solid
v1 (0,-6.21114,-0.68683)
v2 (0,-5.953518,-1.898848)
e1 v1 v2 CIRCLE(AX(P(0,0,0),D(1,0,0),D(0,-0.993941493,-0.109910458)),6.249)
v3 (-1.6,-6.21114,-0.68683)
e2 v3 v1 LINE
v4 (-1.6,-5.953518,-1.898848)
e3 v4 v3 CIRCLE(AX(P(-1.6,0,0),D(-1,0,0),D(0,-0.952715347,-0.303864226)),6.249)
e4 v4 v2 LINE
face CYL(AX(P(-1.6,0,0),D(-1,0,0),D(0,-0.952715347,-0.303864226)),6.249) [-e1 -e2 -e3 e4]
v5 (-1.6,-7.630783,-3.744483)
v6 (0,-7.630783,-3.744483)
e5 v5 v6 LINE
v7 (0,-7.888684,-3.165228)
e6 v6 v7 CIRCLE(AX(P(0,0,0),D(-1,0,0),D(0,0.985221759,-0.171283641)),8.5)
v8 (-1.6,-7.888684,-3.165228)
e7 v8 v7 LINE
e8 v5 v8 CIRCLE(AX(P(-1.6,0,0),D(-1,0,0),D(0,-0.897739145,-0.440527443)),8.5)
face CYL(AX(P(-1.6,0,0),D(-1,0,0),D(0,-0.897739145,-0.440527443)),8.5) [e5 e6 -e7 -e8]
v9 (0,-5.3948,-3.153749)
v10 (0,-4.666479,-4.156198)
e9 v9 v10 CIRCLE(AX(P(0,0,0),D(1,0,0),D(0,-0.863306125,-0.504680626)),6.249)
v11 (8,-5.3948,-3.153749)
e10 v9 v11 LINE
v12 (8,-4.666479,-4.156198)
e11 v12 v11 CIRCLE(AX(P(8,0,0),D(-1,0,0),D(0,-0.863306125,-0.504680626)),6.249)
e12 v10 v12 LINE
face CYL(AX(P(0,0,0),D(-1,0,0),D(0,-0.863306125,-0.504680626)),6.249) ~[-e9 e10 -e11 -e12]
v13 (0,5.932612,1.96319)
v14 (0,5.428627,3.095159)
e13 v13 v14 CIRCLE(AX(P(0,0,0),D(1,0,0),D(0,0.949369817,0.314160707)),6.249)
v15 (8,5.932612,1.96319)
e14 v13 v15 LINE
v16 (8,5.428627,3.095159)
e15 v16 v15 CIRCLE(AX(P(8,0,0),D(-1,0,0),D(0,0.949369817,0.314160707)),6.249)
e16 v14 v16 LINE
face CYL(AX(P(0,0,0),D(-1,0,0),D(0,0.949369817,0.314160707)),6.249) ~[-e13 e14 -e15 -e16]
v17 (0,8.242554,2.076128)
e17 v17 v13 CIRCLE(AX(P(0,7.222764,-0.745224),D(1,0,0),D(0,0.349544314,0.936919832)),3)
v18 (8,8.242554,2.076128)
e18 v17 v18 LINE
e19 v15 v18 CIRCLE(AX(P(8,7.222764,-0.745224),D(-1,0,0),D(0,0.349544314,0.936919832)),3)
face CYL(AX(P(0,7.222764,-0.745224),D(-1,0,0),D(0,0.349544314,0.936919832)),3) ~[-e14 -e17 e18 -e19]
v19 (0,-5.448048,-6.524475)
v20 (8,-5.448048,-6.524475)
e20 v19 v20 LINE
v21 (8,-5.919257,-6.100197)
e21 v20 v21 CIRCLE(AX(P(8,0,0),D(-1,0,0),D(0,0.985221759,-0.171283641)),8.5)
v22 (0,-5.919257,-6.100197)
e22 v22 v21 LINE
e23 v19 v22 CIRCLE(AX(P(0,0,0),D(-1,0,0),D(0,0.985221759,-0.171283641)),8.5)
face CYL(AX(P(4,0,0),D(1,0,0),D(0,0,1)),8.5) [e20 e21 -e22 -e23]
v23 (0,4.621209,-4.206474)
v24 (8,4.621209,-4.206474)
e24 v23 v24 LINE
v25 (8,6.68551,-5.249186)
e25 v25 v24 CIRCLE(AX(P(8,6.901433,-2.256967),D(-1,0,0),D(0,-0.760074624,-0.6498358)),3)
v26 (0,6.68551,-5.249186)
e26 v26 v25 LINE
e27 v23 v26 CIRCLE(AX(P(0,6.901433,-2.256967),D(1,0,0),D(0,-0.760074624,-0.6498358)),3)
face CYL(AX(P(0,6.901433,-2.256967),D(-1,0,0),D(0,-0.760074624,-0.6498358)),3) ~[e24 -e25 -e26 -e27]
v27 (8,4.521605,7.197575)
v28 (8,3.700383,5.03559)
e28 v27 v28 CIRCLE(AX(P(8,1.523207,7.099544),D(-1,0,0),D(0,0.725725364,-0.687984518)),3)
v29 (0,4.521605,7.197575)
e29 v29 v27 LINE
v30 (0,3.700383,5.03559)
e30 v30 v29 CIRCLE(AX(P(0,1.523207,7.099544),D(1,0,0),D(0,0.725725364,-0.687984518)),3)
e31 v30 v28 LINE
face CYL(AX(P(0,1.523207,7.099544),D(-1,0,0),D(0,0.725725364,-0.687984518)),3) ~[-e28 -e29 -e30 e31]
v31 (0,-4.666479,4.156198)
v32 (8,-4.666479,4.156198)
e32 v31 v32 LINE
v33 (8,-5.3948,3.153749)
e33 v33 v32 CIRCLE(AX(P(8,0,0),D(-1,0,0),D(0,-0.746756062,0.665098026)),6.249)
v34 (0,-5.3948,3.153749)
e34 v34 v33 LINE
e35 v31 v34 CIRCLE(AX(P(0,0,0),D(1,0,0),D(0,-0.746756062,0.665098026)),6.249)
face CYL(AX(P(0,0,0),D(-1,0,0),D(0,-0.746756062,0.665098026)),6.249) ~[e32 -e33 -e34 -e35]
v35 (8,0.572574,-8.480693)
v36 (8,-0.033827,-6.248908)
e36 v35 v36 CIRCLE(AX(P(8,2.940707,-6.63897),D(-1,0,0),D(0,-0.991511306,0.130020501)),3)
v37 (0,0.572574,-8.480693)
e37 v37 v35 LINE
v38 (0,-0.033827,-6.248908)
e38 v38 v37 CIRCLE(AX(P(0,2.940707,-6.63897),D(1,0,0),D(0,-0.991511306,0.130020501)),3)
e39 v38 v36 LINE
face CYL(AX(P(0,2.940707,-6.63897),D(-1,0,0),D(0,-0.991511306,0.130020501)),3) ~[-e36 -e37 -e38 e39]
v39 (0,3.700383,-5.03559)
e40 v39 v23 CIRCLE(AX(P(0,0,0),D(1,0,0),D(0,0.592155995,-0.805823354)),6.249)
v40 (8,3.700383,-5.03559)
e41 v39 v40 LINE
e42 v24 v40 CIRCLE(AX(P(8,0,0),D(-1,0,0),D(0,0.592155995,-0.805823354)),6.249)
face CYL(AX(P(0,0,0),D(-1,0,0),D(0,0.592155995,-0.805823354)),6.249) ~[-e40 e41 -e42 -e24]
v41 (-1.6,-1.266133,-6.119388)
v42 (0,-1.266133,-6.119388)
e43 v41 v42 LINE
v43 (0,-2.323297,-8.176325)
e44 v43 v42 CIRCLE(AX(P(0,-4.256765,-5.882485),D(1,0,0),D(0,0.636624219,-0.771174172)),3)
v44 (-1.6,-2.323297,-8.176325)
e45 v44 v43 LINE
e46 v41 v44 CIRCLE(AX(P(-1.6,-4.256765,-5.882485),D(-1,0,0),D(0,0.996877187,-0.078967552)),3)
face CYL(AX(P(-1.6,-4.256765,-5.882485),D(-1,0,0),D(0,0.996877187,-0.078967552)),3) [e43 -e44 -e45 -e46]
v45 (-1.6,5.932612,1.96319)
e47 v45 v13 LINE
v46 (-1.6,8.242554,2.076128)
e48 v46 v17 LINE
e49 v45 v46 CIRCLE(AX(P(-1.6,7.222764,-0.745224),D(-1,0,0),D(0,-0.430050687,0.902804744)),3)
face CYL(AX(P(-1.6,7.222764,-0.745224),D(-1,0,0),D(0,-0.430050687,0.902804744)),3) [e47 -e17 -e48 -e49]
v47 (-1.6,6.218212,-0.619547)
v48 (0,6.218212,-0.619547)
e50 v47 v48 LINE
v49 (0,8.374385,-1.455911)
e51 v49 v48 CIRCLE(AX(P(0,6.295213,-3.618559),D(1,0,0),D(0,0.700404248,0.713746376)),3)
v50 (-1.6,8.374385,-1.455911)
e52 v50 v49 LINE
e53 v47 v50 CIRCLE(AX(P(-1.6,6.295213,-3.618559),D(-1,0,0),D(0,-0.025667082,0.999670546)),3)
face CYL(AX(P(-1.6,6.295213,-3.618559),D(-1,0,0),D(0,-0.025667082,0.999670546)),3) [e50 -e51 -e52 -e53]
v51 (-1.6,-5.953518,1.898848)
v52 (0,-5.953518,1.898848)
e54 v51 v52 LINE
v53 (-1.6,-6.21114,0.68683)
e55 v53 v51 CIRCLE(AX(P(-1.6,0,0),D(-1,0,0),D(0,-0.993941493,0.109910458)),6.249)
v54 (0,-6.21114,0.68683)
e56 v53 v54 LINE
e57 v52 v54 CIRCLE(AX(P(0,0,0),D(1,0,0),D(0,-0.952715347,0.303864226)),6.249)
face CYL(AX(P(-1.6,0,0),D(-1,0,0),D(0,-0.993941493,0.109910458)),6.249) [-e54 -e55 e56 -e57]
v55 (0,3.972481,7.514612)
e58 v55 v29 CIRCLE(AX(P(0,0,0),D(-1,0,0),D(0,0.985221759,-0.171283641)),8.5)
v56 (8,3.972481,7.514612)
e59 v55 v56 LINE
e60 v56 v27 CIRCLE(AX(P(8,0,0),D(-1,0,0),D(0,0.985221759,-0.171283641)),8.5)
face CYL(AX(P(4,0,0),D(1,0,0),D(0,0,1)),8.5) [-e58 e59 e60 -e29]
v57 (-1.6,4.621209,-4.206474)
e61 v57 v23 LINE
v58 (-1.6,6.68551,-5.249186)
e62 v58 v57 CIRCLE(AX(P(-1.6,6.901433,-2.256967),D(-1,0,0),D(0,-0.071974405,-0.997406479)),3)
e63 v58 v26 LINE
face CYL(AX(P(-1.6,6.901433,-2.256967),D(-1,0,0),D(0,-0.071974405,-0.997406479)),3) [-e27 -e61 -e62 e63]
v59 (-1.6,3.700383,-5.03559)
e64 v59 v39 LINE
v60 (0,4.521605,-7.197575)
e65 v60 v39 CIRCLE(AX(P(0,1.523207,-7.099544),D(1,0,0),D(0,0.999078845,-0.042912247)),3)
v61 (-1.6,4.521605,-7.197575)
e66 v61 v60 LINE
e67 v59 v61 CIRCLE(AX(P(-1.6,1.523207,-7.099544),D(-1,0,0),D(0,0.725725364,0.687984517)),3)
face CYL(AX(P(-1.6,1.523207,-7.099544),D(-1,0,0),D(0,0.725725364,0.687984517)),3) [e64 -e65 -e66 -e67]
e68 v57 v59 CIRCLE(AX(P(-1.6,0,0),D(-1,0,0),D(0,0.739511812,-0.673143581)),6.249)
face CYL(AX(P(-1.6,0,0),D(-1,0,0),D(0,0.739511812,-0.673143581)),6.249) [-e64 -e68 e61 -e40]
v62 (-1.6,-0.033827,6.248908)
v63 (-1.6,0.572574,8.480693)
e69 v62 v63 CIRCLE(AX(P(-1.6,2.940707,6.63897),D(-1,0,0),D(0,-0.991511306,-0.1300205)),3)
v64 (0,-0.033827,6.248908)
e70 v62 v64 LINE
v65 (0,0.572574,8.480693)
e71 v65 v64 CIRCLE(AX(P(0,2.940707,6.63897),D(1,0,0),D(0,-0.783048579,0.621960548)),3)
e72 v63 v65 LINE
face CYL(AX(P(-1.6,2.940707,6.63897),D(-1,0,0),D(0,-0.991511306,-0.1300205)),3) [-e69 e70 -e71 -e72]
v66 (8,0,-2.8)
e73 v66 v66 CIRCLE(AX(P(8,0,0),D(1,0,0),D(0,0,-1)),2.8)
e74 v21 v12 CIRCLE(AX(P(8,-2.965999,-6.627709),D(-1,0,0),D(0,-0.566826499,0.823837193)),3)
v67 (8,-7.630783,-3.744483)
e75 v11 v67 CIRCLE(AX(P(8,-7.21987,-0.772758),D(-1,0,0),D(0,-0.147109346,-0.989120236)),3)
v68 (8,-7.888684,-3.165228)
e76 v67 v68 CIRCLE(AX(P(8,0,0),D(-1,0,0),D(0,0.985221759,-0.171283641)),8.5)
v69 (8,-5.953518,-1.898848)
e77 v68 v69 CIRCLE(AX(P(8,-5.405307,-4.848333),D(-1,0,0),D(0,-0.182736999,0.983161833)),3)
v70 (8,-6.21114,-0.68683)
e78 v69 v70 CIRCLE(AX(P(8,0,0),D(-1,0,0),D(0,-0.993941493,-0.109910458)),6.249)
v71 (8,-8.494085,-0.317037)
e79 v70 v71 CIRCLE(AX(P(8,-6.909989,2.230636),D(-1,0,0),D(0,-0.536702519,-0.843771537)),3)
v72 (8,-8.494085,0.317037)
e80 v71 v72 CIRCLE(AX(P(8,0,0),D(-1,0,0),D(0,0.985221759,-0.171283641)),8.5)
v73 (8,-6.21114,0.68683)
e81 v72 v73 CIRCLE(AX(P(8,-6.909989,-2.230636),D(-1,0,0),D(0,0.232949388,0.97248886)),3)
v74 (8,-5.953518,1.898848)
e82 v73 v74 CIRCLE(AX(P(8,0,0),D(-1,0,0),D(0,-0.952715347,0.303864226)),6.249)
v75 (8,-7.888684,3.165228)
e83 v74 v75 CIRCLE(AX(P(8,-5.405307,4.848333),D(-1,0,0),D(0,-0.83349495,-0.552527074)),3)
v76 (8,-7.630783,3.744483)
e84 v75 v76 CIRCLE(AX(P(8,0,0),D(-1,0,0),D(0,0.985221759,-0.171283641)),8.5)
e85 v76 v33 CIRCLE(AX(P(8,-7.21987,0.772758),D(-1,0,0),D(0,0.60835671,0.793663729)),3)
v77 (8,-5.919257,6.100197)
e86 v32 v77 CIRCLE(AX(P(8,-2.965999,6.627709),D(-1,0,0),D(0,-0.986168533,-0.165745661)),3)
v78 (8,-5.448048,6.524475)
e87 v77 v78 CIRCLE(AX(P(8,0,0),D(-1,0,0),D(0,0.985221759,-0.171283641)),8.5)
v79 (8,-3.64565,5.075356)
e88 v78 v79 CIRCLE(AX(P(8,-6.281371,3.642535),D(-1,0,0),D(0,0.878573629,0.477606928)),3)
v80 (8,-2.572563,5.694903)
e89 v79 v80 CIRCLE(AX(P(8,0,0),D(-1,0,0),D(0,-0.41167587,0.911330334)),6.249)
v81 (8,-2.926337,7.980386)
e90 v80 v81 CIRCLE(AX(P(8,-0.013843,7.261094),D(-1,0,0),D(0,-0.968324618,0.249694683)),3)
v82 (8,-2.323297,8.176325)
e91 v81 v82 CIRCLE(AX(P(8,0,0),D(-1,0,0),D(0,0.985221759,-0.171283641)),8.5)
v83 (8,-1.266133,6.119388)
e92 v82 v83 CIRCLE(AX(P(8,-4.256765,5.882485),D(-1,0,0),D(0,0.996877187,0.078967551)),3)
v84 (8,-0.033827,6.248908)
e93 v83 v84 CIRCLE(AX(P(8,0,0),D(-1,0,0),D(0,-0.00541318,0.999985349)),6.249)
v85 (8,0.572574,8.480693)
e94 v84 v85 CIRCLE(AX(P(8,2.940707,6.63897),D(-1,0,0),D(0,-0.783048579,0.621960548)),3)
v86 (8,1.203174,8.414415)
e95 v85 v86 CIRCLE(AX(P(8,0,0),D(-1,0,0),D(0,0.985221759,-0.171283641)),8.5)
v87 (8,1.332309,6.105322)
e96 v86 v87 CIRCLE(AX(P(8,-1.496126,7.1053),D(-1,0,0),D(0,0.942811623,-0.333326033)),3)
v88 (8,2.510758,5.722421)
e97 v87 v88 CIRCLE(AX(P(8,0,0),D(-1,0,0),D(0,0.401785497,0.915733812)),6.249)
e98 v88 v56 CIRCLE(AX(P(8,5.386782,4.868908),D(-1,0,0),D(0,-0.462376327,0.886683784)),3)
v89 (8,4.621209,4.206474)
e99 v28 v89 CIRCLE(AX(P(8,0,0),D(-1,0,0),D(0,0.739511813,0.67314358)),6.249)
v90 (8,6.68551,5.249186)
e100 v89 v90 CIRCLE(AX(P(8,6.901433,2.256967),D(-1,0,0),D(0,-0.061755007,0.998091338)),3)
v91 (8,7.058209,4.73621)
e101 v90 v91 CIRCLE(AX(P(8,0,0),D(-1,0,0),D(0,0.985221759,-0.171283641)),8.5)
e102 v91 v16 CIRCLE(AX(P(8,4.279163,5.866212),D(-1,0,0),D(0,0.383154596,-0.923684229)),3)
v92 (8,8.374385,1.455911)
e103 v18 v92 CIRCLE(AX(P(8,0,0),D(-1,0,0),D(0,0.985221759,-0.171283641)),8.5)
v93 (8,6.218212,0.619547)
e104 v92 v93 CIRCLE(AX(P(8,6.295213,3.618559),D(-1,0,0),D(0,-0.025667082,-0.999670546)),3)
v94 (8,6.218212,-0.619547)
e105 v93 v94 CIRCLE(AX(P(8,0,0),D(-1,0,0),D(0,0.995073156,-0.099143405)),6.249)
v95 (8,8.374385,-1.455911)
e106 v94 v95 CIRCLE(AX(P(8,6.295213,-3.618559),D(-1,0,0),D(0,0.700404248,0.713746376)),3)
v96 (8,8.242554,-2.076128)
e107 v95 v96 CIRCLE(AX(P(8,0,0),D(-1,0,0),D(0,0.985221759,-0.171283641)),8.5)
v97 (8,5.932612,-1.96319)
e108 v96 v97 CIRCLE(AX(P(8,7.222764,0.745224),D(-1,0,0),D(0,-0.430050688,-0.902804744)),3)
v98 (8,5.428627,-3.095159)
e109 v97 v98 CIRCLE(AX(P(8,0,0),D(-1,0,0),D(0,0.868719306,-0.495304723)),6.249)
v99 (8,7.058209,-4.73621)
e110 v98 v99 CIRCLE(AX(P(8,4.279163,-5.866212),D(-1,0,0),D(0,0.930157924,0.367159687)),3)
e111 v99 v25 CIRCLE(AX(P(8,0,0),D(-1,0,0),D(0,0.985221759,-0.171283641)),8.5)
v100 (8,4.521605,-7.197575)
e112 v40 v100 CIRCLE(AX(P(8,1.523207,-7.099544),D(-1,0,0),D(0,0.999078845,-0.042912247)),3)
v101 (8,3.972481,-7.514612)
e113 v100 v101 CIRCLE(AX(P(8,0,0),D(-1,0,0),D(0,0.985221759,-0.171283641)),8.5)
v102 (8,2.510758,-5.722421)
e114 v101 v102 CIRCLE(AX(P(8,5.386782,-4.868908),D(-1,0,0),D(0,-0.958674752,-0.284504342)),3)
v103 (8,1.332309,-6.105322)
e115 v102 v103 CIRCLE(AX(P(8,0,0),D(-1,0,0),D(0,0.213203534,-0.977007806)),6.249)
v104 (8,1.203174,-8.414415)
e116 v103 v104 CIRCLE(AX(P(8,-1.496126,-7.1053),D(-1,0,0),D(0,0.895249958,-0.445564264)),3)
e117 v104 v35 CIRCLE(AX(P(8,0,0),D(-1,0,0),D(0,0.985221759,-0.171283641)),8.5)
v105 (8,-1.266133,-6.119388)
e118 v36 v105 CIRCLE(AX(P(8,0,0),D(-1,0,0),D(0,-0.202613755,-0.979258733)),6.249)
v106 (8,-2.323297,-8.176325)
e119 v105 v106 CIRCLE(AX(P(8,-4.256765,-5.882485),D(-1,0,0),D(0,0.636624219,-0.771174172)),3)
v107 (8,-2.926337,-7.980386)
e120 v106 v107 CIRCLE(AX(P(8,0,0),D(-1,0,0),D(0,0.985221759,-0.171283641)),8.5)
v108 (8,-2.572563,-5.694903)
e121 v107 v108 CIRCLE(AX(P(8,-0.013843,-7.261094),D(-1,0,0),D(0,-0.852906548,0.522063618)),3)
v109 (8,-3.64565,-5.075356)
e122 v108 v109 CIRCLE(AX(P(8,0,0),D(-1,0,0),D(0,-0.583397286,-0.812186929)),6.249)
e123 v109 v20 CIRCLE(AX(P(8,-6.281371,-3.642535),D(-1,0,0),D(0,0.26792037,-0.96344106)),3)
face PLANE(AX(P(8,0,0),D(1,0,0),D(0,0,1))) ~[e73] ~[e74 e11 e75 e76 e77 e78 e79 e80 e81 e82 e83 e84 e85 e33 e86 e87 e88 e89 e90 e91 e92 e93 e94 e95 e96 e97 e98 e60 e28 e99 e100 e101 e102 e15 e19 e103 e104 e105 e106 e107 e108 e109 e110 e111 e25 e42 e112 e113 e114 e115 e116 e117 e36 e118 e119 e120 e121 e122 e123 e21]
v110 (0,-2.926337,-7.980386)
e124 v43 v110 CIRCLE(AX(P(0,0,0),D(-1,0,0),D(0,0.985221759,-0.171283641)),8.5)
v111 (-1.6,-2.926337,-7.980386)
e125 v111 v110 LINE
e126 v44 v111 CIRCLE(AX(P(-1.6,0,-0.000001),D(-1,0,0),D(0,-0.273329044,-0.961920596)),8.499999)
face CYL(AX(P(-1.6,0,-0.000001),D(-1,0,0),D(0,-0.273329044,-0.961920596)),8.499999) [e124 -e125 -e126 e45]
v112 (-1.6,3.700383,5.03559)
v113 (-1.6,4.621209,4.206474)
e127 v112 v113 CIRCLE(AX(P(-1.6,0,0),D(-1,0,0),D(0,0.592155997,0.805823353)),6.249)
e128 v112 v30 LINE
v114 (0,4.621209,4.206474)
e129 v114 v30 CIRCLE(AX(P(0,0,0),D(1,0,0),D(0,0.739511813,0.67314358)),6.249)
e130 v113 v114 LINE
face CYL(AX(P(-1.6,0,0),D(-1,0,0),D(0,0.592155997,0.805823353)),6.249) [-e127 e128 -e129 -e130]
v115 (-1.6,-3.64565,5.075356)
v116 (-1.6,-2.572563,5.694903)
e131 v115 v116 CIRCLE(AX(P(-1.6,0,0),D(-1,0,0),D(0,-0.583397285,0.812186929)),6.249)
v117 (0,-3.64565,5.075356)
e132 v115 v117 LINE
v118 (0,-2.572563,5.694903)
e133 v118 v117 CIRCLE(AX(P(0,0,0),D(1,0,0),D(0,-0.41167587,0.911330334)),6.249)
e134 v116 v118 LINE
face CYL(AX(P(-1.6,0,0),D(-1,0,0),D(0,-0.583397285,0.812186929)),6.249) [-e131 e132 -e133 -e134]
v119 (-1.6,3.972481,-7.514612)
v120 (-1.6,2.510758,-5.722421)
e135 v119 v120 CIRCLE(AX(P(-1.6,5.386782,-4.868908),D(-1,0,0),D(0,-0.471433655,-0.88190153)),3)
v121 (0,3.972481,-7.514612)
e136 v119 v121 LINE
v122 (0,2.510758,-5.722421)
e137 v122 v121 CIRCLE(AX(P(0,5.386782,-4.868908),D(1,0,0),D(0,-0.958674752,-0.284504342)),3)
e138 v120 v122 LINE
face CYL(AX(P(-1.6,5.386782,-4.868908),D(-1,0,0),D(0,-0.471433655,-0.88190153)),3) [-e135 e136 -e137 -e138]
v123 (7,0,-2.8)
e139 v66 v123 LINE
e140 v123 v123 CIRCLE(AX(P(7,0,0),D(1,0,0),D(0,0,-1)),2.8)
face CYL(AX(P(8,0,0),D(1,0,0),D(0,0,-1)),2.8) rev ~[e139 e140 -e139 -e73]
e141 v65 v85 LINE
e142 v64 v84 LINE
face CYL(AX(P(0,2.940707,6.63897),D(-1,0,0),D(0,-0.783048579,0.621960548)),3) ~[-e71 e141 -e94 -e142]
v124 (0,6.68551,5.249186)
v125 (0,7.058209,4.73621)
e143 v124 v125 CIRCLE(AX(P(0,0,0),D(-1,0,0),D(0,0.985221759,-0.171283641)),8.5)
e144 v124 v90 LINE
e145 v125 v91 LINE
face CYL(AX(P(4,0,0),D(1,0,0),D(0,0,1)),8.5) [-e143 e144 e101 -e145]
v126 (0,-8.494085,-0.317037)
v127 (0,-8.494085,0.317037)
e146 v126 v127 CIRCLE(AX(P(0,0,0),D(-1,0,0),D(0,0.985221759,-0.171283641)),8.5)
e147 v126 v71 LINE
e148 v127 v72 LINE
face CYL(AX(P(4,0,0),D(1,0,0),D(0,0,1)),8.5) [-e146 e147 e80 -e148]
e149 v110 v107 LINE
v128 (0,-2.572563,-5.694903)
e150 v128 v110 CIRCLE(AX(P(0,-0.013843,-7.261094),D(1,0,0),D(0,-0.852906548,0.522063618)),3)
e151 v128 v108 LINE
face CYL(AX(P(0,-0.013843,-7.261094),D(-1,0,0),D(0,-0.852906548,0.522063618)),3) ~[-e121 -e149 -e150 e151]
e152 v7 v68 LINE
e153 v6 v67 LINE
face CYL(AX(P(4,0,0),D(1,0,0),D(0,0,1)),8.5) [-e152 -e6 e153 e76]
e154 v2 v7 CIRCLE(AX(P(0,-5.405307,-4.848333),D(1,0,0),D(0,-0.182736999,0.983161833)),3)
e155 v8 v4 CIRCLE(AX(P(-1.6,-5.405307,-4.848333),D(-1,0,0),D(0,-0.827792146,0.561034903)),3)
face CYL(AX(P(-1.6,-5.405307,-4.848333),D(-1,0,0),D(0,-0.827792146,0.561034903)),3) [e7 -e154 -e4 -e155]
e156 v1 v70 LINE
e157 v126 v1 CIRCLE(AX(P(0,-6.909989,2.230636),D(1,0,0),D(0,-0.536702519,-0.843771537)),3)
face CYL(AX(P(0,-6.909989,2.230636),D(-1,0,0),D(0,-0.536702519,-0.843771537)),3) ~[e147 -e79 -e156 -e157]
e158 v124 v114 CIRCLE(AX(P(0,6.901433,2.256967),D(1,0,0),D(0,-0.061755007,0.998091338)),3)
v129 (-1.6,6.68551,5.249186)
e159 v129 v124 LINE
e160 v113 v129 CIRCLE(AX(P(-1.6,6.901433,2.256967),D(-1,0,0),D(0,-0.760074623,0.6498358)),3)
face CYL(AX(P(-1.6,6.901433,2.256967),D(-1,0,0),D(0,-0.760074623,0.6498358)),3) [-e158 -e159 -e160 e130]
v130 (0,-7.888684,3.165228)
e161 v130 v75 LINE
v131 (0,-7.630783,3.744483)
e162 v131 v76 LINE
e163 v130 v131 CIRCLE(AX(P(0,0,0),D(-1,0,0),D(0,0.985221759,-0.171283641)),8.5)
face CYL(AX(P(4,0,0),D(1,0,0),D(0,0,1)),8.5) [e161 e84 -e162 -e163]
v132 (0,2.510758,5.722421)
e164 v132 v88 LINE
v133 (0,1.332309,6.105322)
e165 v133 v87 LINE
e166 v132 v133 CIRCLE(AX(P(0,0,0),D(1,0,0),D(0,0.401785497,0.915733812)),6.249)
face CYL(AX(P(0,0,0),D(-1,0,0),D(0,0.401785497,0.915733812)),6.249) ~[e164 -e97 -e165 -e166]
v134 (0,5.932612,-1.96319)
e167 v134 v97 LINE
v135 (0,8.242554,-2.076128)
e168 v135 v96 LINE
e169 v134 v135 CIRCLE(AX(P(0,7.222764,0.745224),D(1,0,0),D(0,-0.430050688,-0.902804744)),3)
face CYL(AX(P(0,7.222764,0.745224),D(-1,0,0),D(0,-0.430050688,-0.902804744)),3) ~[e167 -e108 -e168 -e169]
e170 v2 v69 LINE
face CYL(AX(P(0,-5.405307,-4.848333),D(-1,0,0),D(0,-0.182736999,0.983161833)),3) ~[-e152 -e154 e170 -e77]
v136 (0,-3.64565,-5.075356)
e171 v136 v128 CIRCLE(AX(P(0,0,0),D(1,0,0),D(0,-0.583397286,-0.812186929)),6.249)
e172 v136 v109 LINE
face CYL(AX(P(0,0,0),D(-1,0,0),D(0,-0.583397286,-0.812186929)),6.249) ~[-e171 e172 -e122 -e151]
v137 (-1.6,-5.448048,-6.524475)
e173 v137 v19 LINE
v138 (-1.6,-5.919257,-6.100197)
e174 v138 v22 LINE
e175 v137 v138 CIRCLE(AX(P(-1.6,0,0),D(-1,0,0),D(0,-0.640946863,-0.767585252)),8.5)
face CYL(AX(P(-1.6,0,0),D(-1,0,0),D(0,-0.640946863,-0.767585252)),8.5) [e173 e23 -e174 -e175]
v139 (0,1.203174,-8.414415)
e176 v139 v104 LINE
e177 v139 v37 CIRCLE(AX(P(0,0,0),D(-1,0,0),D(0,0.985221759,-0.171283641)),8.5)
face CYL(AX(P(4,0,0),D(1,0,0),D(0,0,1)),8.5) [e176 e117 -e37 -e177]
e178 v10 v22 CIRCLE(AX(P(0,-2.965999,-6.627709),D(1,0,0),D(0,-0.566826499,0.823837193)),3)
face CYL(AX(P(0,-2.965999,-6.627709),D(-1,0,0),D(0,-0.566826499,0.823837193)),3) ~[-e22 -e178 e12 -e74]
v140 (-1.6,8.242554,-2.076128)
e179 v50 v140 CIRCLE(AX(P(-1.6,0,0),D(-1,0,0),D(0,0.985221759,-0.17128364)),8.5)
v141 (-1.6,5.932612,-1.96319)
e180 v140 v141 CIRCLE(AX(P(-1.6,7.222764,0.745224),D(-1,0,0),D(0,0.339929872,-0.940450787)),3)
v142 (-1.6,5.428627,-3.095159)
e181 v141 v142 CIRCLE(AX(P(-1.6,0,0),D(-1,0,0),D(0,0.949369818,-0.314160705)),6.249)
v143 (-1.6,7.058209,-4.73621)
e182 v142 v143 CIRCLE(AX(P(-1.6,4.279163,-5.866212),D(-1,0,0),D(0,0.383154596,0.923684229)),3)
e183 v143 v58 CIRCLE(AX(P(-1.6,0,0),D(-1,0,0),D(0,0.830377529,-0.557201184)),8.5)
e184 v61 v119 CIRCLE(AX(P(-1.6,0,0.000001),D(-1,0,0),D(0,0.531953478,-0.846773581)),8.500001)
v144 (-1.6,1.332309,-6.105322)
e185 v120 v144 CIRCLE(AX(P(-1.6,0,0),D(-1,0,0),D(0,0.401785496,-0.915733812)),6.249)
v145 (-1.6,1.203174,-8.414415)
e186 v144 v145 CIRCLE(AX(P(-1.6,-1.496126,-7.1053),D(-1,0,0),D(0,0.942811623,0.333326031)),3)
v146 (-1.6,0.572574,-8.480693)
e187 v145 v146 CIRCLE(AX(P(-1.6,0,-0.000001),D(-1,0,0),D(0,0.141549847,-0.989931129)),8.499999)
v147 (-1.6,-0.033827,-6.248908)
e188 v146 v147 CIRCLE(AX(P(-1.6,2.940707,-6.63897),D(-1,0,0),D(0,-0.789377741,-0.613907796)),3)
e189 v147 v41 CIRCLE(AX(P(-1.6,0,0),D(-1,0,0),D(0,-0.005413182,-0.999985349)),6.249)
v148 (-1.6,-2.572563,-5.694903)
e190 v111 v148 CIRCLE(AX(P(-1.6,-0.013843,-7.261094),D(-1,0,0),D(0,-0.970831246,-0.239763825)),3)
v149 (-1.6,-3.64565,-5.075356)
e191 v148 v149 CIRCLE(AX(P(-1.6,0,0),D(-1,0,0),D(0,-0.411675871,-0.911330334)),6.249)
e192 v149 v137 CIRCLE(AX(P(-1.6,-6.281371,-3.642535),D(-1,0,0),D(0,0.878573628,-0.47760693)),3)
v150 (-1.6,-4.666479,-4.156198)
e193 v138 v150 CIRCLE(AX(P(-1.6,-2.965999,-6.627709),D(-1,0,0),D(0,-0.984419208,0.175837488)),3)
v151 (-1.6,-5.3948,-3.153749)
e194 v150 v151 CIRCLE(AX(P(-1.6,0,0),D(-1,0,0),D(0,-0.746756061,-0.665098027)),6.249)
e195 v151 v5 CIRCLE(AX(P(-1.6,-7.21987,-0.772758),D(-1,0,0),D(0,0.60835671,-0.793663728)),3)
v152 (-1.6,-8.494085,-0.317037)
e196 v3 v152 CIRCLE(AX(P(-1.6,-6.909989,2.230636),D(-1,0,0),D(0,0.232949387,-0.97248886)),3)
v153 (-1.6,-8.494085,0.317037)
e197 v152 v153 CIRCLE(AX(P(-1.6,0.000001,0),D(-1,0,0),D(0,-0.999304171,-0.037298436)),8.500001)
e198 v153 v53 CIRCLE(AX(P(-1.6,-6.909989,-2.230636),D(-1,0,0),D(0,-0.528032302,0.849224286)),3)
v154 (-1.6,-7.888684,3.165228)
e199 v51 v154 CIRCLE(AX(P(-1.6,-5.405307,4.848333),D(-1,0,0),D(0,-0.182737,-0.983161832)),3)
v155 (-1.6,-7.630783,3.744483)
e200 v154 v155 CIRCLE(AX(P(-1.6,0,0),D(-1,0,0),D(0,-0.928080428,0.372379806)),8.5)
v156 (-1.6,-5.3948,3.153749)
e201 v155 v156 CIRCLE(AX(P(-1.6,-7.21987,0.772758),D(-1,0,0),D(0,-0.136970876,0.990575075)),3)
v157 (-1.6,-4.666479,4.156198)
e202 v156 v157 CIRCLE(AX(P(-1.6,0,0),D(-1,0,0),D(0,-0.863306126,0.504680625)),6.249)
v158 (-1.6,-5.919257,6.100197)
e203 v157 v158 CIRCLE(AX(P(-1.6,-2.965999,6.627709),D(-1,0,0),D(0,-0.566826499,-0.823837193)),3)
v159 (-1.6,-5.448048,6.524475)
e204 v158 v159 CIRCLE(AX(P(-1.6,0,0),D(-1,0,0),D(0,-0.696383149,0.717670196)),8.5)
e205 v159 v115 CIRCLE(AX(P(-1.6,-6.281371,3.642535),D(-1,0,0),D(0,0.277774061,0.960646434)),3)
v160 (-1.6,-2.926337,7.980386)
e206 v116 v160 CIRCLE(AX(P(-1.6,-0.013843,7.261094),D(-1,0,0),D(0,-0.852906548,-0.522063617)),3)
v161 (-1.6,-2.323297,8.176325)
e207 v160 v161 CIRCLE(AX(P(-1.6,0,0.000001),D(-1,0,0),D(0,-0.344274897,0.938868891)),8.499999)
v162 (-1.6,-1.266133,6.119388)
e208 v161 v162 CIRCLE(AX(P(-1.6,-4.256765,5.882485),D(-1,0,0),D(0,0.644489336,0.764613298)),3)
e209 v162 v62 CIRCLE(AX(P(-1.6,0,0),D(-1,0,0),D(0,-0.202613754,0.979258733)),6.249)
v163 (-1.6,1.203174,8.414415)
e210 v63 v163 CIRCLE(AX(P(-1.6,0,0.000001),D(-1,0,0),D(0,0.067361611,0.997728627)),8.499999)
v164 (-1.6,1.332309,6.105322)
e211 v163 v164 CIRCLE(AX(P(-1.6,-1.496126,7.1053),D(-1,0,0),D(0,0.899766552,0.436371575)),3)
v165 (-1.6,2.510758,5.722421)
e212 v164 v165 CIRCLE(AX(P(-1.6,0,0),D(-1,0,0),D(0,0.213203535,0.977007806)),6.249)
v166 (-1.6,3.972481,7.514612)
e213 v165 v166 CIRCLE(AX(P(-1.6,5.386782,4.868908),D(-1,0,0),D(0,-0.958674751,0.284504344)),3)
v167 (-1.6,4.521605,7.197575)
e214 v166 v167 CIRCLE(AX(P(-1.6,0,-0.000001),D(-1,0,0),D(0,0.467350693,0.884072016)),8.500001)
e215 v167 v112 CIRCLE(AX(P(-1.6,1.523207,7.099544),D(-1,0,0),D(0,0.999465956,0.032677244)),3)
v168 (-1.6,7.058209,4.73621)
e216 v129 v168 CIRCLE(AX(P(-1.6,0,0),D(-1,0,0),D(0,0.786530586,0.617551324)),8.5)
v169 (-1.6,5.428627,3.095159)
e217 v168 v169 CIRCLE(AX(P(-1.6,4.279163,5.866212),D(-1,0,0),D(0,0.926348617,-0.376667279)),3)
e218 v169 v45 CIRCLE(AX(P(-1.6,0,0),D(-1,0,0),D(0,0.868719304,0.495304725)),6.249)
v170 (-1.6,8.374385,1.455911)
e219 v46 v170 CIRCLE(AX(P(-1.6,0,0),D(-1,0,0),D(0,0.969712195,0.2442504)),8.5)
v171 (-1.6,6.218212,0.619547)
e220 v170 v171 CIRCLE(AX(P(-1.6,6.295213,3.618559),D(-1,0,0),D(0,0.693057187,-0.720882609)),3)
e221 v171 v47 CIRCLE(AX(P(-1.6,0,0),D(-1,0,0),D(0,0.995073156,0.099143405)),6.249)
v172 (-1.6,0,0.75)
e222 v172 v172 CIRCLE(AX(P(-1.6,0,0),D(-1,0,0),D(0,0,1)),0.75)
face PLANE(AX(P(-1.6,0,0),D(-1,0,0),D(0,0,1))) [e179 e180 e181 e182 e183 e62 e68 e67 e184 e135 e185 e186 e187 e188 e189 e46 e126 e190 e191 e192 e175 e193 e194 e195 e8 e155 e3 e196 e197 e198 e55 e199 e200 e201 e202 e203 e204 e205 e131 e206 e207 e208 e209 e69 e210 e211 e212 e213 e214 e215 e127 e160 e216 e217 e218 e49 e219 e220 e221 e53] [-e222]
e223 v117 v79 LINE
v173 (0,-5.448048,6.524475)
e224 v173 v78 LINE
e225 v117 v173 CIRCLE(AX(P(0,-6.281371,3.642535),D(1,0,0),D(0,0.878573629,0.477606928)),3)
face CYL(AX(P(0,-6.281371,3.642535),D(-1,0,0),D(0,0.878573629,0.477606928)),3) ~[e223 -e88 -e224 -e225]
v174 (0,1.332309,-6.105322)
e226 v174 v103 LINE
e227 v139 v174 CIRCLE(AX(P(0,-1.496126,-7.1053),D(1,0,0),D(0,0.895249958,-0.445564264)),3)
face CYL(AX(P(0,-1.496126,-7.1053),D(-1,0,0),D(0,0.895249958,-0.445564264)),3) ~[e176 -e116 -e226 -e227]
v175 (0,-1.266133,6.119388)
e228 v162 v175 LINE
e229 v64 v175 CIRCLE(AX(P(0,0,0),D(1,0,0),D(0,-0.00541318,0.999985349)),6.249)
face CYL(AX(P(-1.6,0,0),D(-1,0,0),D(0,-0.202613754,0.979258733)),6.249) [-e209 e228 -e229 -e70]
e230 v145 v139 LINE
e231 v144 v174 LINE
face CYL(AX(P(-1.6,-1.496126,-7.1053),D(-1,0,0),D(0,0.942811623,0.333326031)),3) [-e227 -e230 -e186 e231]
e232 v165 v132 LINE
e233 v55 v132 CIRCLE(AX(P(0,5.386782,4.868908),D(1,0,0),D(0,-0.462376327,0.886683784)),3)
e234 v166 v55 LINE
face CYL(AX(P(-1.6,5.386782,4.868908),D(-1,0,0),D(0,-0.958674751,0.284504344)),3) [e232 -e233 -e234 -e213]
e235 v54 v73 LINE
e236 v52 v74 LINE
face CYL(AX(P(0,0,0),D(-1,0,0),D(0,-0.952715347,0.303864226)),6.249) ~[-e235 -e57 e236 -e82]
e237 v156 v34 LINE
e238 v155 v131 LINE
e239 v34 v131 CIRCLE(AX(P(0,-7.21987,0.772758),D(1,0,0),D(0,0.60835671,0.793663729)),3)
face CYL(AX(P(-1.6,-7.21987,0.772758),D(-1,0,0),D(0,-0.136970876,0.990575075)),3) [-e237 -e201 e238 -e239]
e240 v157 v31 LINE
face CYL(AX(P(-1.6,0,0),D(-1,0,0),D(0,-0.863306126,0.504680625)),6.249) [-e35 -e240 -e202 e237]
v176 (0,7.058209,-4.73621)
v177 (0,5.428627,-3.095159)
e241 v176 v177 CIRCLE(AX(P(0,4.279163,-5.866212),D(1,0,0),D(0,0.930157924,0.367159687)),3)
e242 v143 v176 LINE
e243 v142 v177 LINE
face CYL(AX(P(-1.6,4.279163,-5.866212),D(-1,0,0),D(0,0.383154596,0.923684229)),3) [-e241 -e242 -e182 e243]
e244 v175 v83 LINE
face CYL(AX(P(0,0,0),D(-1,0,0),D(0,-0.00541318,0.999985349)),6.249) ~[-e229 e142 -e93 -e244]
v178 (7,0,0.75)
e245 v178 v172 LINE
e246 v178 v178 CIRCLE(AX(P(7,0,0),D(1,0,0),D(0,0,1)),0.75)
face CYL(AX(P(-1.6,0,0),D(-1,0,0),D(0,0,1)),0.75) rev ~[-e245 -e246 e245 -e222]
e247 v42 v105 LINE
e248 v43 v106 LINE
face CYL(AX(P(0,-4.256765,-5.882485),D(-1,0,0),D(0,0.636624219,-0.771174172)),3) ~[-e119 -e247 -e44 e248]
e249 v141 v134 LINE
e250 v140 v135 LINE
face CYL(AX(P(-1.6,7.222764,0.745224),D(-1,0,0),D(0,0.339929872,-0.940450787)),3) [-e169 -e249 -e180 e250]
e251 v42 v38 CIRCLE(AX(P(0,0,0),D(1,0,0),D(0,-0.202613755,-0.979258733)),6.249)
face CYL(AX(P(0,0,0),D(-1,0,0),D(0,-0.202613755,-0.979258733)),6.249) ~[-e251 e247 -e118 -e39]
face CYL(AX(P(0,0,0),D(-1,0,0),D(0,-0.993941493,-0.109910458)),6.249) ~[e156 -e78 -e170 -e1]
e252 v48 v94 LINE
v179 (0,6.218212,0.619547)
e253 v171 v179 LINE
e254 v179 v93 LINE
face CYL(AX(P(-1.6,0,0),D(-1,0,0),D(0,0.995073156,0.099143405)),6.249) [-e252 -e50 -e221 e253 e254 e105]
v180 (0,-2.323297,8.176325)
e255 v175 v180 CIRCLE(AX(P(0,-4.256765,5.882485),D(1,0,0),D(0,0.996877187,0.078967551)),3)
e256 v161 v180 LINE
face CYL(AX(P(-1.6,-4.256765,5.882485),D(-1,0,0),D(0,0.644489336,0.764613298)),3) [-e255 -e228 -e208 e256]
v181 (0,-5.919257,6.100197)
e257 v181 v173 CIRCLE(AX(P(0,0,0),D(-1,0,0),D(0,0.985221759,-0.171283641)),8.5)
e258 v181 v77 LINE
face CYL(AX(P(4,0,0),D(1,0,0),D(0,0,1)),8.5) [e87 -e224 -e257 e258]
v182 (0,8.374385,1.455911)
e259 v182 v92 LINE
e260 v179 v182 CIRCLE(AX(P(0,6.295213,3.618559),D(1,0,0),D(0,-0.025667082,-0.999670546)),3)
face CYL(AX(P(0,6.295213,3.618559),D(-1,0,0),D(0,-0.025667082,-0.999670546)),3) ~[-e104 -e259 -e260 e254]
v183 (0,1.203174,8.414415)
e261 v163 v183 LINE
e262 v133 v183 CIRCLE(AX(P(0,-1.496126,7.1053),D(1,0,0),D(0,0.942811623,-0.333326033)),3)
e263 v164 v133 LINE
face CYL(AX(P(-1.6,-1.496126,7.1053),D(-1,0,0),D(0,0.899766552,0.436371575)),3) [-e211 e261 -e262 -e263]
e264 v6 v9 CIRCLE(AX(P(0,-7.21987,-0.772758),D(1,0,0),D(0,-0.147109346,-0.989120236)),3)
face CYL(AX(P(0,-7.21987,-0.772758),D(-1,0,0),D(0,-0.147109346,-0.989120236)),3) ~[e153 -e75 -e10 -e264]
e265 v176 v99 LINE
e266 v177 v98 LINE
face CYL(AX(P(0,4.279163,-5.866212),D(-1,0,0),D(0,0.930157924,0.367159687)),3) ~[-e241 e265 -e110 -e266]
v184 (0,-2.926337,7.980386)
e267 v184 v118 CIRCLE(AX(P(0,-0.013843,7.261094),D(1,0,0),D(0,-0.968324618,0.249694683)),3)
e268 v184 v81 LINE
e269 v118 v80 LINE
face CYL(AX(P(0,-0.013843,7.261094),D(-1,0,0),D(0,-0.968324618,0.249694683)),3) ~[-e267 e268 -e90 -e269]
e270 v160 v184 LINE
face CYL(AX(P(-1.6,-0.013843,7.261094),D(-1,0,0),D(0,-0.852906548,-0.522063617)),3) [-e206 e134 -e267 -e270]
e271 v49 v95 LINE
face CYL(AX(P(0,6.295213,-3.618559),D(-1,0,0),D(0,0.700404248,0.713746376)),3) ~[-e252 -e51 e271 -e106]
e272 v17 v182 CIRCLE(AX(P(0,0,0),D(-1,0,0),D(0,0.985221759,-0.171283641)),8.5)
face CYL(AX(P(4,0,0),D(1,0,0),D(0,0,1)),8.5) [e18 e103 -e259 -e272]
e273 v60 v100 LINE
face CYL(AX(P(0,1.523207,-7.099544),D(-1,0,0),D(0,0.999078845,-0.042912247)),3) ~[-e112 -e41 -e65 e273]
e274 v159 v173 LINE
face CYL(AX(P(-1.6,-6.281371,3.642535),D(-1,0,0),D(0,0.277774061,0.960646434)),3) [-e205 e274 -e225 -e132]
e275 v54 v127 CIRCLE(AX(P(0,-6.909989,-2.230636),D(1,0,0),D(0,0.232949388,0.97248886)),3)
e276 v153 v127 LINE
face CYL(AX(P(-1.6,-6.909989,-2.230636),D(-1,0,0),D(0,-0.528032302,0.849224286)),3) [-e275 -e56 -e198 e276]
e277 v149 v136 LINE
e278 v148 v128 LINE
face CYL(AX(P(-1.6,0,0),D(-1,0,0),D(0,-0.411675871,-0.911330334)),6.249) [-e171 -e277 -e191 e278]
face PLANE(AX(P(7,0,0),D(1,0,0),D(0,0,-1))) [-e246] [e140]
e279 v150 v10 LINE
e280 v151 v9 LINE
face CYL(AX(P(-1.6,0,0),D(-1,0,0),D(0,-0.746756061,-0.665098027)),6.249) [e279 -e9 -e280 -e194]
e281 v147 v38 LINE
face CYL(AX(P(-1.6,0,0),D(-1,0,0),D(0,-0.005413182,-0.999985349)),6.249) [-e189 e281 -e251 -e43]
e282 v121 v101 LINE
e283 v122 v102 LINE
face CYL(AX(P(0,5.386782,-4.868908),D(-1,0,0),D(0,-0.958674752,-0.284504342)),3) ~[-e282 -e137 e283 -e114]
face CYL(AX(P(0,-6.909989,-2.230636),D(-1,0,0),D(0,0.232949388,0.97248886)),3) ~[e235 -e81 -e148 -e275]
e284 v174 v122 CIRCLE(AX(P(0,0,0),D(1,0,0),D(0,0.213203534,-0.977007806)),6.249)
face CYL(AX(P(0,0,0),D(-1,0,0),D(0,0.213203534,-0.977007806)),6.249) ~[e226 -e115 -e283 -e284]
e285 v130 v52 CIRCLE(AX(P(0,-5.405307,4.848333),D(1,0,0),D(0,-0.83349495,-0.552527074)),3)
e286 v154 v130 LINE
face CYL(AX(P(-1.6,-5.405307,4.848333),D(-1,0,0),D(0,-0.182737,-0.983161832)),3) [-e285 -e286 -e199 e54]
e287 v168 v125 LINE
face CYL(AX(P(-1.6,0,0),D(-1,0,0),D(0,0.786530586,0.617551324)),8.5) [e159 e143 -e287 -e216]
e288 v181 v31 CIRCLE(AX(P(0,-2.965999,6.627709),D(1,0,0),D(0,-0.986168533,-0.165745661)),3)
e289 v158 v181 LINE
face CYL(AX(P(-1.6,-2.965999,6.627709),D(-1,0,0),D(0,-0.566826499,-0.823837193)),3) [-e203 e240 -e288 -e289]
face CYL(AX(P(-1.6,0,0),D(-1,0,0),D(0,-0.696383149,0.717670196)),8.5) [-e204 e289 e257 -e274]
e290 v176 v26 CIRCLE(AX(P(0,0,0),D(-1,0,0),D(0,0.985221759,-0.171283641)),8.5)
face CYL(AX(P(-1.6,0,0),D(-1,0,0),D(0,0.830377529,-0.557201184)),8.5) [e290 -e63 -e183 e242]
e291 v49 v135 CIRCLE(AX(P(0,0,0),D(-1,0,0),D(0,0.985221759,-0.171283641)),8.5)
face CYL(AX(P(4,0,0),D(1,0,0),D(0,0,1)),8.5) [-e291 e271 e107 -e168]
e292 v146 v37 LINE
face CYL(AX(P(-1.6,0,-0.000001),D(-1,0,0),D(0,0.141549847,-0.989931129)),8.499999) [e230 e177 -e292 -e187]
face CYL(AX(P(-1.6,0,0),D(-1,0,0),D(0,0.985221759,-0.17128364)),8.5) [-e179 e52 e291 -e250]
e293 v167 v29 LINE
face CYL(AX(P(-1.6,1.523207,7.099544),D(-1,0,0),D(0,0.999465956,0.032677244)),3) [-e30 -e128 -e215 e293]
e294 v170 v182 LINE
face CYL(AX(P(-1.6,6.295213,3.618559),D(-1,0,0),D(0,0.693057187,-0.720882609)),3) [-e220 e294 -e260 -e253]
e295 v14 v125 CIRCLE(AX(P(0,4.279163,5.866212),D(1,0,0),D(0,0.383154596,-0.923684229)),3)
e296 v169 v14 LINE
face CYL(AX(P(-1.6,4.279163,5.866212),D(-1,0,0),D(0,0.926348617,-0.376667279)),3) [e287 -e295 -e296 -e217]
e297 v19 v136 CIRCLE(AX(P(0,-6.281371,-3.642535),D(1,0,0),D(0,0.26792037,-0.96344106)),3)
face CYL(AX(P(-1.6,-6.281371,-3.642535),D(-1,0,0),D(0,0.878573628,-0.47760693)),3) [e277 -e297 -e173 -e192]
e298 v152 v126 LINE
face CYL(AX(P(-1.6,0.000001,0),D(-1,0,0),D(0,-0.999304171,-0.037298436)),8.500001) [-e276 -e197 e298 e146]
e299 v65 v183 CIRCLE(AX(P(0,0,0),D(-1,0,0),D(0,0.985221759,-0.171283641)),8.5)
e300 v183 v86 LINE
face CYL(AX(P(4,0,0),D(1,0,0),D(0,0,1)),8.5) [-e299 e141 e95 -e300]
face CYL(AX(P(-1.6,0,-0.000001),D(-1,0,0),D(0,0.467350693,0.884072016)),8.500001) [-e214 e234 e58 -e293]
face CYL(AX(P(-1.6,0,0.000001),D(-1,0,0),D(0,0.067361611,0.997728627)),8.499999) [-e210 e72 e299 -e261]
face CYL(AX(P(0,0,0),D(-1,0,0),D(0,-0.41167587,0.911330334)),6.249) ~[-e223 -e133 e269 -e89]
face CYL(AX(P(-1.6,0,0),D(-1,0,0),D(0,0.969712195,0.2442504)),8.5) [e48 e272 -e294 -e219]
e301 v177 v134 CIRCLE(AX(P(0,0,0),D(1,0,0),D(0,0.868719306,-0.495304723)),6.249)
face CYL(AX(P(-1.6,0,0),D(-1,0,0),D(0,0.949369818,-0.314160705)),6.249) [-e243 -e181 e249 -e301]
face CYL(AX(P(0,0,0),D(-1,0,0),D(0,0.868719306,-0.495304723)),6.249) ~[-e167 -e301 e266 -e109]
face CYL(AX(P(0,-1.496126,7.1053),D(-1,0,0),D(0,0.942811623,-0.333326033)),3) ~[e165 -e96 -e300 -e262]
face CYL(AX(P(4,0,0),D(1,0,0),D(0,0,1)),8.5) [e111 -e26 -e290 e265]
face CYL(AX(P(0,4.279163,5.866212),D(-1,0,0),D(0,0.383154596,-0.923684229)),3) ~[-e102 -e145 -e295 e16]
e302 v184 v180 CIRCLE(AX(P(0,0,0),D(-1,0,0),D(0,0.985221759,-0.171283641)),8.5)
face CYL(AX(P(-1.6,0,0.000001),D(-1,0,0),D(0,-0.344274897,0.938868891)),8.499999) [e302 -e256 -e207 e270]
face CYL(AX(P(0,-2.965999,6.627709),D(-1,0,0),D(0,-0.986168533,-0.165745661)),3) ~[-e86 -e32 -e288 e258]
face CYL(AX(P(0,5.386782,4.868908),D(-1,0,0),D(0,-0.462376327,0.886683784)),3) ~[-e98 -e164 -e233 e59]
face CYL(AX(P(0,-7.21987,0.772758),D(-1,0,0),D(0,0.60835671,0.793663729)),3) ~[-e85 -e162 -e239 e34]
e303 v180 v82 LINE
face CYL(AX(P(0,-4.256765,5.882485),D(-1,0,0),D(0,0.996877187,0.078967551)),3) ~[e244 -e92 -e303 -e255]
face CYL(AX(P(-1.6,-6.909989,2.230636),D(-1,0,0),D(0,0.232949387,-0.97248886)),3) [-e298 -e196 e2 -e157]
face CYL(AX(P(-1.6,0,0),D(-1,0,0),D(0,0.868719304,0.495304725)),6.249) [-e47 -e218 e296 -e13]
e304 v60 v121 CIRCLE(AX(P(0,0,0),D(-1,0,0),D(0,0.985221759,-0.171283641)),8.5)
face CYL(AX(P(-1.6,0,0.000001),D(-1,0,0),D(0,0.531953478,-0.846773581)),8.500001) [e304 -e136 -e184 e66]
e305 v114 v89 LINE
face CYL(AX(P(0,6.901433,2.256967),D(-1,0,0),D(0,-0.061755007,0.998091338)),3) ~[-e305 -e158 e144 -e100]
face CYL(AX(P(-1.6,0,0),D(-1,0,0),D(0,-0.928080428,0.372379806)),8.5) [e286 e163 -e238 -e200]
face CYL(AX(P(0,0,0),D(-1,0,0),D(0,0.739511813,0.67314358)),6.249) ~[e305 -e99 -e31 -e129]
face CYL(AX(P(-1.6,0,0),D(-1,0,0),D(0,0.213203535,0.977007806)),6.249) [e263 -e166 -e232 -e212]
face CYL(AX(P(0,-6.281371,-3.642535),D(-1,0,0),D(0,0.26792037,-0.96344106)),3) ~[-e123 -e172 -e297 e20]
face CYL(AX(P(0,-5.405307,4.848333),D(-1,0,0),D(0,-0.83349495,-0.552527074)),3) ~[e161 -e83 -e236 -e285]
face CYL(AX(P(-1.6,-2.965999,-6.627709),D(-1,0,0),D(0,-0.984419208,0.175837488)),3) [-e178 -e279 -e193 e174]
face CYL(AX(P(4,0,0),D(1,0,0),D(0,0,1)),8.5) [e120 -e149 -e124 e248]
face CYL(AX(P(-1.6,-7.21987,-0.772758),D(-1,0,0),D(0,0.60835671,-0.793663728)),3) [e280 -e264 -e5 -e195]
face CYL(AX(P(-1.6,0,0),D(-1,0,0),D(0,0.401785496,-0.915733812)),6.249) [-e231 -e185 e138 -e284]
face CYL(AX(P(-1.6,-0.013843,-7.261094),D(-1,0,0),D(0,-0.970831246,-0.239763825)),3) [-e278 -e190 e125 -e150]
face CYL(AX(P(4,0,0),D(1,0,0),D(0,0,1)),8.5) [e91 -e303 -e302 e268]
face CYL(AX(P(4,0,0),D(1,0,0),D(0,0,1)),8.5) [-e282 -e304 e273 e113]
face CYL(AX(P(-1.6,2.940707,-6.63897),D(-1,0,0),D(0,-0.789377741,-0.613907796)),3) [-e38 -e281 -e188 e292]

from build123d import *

# Parameters (mm, degrees)
BASPROSKE_W         = 8
BASPROSKE_H         = 8.5
TOOTHCUT_DEPTH      = 15.439529078
TEETHCUTS_COUNT     = 15
TEETHCUTS_ANGLE     = 336
BORSKE_R            = 0.75
BORE_DEPTH          = 50.0000508
SKETCH1_R           = 2.8
CUT_EXTRUDE2_DEPTH  = 1
BOSS_EXTRUDE2_START = 1.6
SKETCH2_R           = 0.75
BOSS_EXTRUDE2_DEPTH = 1.6


with BuildPart() as part:
    # BasProSke → Base-Revolve (revolve)
    with BuildSketch(Plane(origin=(0, 0, 0), x_dir=(1, 0, 0), z_dir=(0, 1, 0)), mode=Mode.PRIVATE) as base_revolve_sk:
        with Locations((4, 4.25)):
            Rectangle(BASPROSKE_W, BASPROSKE_H)
    revolve(base_revolve_sk.sketch.rotate(Axis((-10, 0, 0), (1, 0, 0)), 180), axis=Axis((-10, 0, 0), (1, 0, 0)))

    # TooCutSke → ToothCut (cut, through all)
    with BuildSketch(Plane(origin=(0, 0, 0), x_dir=(0, 0, -1), z_dir=(1, 0, 0))):
        with BuildLine():
            ThreePointArc((0.619547138, 6.21821215), (0, 6.249), (-0.619547138, 6.21821215))
            ThreePointArc((-0.619547138, 6.21821215), (-0.827197364, 7.394441061), (-1.477319646, 8.396426134))
            ThreePointArc((-1.477319646, 8.396426134), (0, 8.5254), (1.477319646, 8.396426134))
            ThreePointArc((1.477319646, 8.396426134), (0.827197364, 7.394441061), (0.619547138, 6.21821215))
        make_face()
    toothcut = extrude(amount=TOOTHCUT_DEPTH, mode=Mode.SUBTRACT)

    # TeethCuts: ToothCut ×15 about axis
    teethcuts_axis = Axis((-10, 0, 0), (1, 0, 0))
    for i in range(1, TEETHCUTS_COUNT):
        add(toothcut.rotate(teethcuts_axis, i * TEETHCUTS_ANGLE / (TEETHCUTS_COUNT - 1)), mode=Mode.SUBTRACT)

    # BorSke → Bore (cut, symmetric)
    with BuildSketch(Plane(origin=(0, 0, 0), x_dir=(0, 0, -1), z_dir=(1, 0, 0))):
        with Locations(Location((0, 0, 0), (0, 0, 180))):
            Circle(BORSKE_R)
    extrude(amount=BORE_DEPTH, both=True, mode=Mode.SUBTRACT)

    # Sketch1 → Cut-Extrude2 (cut)
    with BuildSketch(Plane(origin=(8, 0, 0), x_dir=(0, 0, -1), z_dir=(1, 0, 0))):
        Circle(SKETCH1_R)
    extrude(amount=-CUT_EXTRUDE2_DEPTH, mode=Mode.SUBTRACT)

    # Sketch2 → Boss-Extrude2 (add)
    with BuildSketch(Plane.ZY.offset(BOSS_EXTRUDE2_START)):
        with BuildLine():
            ThreePointArc((6.248908444, -0.033826967), (7.425583576, 0.045669992), (8.480693328, 0.572573726))
            ThreePointArc((8.480693328, 0.572573726), (8.453436111, 0.888491938), (8.414414603, 1.203173673))
            ThreePointArc((8.414414603, 1.203173673), (7.272812084, 1.499193643), (6.105321779, 1.332308887))
            ThreePointArc((6.105321779, 1.332308887), (5.94315217, 1.931047198), (5.722420591, 2.510757571))
            ThreePointArc((5.722420591, 2.510757571), (6.765032487, 3.061978551), (7.514612153, 3.972480862))
            ThreePointArc((7.514612153, 3.972480862), (7.361215932, 4.25), (7.197575419, 4.521604593))
            ThreePointArc((7.197575419, 4.521604593), (6.034267454, 4.327700716), (5.035590135, 3.700382817))
            ThreePointArc((5.035590135, 3.700382817), (4.643912014, 4.181397159), (4.206474231, 4.621209316))
            ThreePointArc((4.206474231, 4.621209316), (4.934745822, 5.5488432), (5.249186267, 6.685509968))
            ThreePointArc((5.249186267, 6.685509968), (4.996174644, 6.876644452), (4.736210056, 7.058209001))
            ThreePointArc((4.736210056, 7.058209001), (3.752343161, 6.407909019), (3.095159209, 5.428626941))
            ThreePointArc((3.095159209, 5.428626941), (2.541697283, 5.708745565), (1.963190262, 5.932611987))
            ThreePointArc((1.963190262, 5.932611987), (2.251196774, 7.076262451), (2.076128389, 8.242553664))
            ThreePointArc((2.076128389, 8.242553664), (1.767249372, 8.314254606), (1.455910948, 8.374384951))
            ThreePointArc((1.455910948, 8.374384951), (0.821604647, 7.380131638), (0.619547138, 6.21821215))
            ThreePointArc((0.619547138, 6.21821215), (0, 6.249), (-0.619547138, 6.21821215))
            ThreePointArc((-0.619547138, 6.21821215), (-0.821604647, 7.380131638), (-1.455910948, 8.374384951))
            ThreePointArc((-1.455910948, 8.374384951), (-1.767249372, 8.314254606), (-2.076128389, 8.242553664))
            ThreePointArc((-2.076128389, 8.242553664), (-2.251196774, 7.076262451), (-1.963190262, 5.932611987))
            ThreePointArc((-1.963190262, 5.932611987), (-2.541697283, 5.708745565), (-3.095159209, 5.428626941))
            ThreePointArc((-3.095159209, 5.428626941), (-3.752343161, 6.407909019), (-4.736210056, 7.058209001))
            ThreePointArc((-4.736210056, 7.058209001), (-4.996174644, 6.876644452), (-5.249186267, 6.685509968))
            ThreePointArc((-5.249186267, 6.685509968), (-4.934745822, 5.5488432), (-4.206474231, 4.621209316))
            ThreePointArc((-4.206474231, 4.621209316), (-4.643912014, 4.181397159), (-5.035590135, 3.700382817))
            ThreePointArc((-5.035590135, 3.700382817), (-6.034267454, 4.327700716), (-7.197575419, 4.521604593))
            ThreePointArc((-7.197575419, 4.521604593), (-7.361215932, 4.25), (-7.514612153, 3.972480862))
            ThreePointArc((-7.514612153, 3.972480862), (-6.765032487, 3.061978551), (-5.722420591, 2.510757571))
            ThreePointArc((-5.722420591, 2.510757571), (-5.94315217, 1.931047198), (-6.105321779, 1.332308887))
            ThreePointArc((-6.105321779, 1.332308887), (-7.272812084, 1.499193643), (-8.414414603, 1.203173673))
            ThreePointArc((-8.414414603, 1.203173673), (-8.453436111, 0.888491938), (-8.480693328, 0.572573726))
            ThreePointArc((-8.480693328, 0.572573726), (-7.425583576, 0.045669992), (-6.248908444, -0.033826967))
            ThreePointArc((-6.248908444, -0.033826967), (-6.214767324, -0.653198367), (-6.119387823, -1.266133354))
            ThreePointArc((-6.119387823, -1.266133354), (-7.253821434, -1.58853763), (-8.17632506, -2.323296905))
            ThreePointArc((-8.17632506, -2.323296905), (-8.083980389, -2.626644452), (-7.980385583, -2.926336609))
            ThreePointArc((-7.980385583, -2.926336609), (-6.802183806, -2.978535323), (-5.694903257, -2.572562515))
            ThreePointArc((-5.694903257, -2.572562515), (-5.411792748, -3.1245), (-5.075356119, -3.645649635))
            ThreePointArc((-5.075356119, -3.645649635), (-5.980579158, -4.401596316), (-6.524474635, -5.448048342))
            ThreePointArc((-6.524474635, -5.448048342), (-6.316731017, -5.687610154), (-6.100196671, -5.919256759))
            ThreePointArc((-6.100196671, -5.919256759), (-5.002624659, -5.487724821), (-4.156197561, -4.666478633))
            ThreePointArc((-4.156197561, -4.666478633), (-3.673070042, -5.055547198), (-3.153749234, -5.394799975))
            ThreePointArc((-3.153749234, -5.394799975), (-3.673240415, -6.453579011), (-3.744483272, -7.630782727))
            ThreePointArc((-3.744483272, -7.630782727), (-3.457261466, -7.76513639), (-3.165228336, -7.888683641))
            ThreePointArc((-3.165228336, -7.888683641), (-2.338066262, -7.048036844), (-1.898847548, -5.953518203))
            ThreePointArc((-1.898847548, -5.953518203), (-1.299240156, -6.112444357), (-0.686830456, -6.211140388))
            ThreePointArc((-0.686830456, -6.211140388), (-0.730765033, -7.389679266), (-0.317036734, -8.494085455))
            ThreePointArc((-0.317036734, -8.494085455), (0, -8.5), (0.317036734, -8.494085455))
            ThreePointArc((0.317036734, -8.494085455), (0.730765033, -7.389679266), (0.686830456, -6.211140388))
            ThreePointArc((0.686830456, -6.211140388), (1.299240156, -6.112444357), (1.898847548, -5.953518203))
            ThreePointArc((1.898847548, -5.953518203), (2.338066262, -7.048036844), (3.165228336, -7.888683641))
            ThreePointArc((3.165228336, -7.888683641), (3.457261466, -7.76513639), (3.744483272, -7.630782727))
            ThreePointArc((3.744483272, -7.630782727), (3.673240415, -6.453579011), (3.153749234, -5.394799975))
            ThreePointArc((3.153749234, -5.394799975), (3.673070042, -5.055547198), (4.156197561, -4.666478633))
            ThreePointArc((4.156197561, -4.666478633), (5.002624659, -5.487724821), (6.100196671, -5.919256759))
            ThreePointArc((6.100196671, -5.919256759), (6.316731017, -5.687610154), (6.524474635, -5.448048342))
            ThreePointArc((6.524474635, -5.448048342), (5.980579158, -4.401596316), (5.075356119, -3.645649635))
            ThreePointArc((5.075356119, -3.645649635), (5.411792748, -3.1245), (5.694903257, -2.572562515))
            ThreePointArc((5.694903257, -2.572562515), (6.802183806, -2.978535323), (7.980385583, -2.926336609))
            ThreePointArc((7.980385583, -2.926336609), (8.083980389, -2.626644452), (8.17632506, -2.323296905))
            ThreePointArc((8.17632506, -2.323296905), (7.253821434, -1.58853763), (6.119387823, -1.266133354))
            ThreePointArc((6.119387823, -1.266133354), (6.214767324, -0.653198367), (6.248908444, -0.033826967))
        make_face()
        Circle(SKETCH2_R, mode=Mode.SUBTRACT)
    extrude(amount=-BOSS_EXTRUDE2_DEPTH)


solid = part.part
